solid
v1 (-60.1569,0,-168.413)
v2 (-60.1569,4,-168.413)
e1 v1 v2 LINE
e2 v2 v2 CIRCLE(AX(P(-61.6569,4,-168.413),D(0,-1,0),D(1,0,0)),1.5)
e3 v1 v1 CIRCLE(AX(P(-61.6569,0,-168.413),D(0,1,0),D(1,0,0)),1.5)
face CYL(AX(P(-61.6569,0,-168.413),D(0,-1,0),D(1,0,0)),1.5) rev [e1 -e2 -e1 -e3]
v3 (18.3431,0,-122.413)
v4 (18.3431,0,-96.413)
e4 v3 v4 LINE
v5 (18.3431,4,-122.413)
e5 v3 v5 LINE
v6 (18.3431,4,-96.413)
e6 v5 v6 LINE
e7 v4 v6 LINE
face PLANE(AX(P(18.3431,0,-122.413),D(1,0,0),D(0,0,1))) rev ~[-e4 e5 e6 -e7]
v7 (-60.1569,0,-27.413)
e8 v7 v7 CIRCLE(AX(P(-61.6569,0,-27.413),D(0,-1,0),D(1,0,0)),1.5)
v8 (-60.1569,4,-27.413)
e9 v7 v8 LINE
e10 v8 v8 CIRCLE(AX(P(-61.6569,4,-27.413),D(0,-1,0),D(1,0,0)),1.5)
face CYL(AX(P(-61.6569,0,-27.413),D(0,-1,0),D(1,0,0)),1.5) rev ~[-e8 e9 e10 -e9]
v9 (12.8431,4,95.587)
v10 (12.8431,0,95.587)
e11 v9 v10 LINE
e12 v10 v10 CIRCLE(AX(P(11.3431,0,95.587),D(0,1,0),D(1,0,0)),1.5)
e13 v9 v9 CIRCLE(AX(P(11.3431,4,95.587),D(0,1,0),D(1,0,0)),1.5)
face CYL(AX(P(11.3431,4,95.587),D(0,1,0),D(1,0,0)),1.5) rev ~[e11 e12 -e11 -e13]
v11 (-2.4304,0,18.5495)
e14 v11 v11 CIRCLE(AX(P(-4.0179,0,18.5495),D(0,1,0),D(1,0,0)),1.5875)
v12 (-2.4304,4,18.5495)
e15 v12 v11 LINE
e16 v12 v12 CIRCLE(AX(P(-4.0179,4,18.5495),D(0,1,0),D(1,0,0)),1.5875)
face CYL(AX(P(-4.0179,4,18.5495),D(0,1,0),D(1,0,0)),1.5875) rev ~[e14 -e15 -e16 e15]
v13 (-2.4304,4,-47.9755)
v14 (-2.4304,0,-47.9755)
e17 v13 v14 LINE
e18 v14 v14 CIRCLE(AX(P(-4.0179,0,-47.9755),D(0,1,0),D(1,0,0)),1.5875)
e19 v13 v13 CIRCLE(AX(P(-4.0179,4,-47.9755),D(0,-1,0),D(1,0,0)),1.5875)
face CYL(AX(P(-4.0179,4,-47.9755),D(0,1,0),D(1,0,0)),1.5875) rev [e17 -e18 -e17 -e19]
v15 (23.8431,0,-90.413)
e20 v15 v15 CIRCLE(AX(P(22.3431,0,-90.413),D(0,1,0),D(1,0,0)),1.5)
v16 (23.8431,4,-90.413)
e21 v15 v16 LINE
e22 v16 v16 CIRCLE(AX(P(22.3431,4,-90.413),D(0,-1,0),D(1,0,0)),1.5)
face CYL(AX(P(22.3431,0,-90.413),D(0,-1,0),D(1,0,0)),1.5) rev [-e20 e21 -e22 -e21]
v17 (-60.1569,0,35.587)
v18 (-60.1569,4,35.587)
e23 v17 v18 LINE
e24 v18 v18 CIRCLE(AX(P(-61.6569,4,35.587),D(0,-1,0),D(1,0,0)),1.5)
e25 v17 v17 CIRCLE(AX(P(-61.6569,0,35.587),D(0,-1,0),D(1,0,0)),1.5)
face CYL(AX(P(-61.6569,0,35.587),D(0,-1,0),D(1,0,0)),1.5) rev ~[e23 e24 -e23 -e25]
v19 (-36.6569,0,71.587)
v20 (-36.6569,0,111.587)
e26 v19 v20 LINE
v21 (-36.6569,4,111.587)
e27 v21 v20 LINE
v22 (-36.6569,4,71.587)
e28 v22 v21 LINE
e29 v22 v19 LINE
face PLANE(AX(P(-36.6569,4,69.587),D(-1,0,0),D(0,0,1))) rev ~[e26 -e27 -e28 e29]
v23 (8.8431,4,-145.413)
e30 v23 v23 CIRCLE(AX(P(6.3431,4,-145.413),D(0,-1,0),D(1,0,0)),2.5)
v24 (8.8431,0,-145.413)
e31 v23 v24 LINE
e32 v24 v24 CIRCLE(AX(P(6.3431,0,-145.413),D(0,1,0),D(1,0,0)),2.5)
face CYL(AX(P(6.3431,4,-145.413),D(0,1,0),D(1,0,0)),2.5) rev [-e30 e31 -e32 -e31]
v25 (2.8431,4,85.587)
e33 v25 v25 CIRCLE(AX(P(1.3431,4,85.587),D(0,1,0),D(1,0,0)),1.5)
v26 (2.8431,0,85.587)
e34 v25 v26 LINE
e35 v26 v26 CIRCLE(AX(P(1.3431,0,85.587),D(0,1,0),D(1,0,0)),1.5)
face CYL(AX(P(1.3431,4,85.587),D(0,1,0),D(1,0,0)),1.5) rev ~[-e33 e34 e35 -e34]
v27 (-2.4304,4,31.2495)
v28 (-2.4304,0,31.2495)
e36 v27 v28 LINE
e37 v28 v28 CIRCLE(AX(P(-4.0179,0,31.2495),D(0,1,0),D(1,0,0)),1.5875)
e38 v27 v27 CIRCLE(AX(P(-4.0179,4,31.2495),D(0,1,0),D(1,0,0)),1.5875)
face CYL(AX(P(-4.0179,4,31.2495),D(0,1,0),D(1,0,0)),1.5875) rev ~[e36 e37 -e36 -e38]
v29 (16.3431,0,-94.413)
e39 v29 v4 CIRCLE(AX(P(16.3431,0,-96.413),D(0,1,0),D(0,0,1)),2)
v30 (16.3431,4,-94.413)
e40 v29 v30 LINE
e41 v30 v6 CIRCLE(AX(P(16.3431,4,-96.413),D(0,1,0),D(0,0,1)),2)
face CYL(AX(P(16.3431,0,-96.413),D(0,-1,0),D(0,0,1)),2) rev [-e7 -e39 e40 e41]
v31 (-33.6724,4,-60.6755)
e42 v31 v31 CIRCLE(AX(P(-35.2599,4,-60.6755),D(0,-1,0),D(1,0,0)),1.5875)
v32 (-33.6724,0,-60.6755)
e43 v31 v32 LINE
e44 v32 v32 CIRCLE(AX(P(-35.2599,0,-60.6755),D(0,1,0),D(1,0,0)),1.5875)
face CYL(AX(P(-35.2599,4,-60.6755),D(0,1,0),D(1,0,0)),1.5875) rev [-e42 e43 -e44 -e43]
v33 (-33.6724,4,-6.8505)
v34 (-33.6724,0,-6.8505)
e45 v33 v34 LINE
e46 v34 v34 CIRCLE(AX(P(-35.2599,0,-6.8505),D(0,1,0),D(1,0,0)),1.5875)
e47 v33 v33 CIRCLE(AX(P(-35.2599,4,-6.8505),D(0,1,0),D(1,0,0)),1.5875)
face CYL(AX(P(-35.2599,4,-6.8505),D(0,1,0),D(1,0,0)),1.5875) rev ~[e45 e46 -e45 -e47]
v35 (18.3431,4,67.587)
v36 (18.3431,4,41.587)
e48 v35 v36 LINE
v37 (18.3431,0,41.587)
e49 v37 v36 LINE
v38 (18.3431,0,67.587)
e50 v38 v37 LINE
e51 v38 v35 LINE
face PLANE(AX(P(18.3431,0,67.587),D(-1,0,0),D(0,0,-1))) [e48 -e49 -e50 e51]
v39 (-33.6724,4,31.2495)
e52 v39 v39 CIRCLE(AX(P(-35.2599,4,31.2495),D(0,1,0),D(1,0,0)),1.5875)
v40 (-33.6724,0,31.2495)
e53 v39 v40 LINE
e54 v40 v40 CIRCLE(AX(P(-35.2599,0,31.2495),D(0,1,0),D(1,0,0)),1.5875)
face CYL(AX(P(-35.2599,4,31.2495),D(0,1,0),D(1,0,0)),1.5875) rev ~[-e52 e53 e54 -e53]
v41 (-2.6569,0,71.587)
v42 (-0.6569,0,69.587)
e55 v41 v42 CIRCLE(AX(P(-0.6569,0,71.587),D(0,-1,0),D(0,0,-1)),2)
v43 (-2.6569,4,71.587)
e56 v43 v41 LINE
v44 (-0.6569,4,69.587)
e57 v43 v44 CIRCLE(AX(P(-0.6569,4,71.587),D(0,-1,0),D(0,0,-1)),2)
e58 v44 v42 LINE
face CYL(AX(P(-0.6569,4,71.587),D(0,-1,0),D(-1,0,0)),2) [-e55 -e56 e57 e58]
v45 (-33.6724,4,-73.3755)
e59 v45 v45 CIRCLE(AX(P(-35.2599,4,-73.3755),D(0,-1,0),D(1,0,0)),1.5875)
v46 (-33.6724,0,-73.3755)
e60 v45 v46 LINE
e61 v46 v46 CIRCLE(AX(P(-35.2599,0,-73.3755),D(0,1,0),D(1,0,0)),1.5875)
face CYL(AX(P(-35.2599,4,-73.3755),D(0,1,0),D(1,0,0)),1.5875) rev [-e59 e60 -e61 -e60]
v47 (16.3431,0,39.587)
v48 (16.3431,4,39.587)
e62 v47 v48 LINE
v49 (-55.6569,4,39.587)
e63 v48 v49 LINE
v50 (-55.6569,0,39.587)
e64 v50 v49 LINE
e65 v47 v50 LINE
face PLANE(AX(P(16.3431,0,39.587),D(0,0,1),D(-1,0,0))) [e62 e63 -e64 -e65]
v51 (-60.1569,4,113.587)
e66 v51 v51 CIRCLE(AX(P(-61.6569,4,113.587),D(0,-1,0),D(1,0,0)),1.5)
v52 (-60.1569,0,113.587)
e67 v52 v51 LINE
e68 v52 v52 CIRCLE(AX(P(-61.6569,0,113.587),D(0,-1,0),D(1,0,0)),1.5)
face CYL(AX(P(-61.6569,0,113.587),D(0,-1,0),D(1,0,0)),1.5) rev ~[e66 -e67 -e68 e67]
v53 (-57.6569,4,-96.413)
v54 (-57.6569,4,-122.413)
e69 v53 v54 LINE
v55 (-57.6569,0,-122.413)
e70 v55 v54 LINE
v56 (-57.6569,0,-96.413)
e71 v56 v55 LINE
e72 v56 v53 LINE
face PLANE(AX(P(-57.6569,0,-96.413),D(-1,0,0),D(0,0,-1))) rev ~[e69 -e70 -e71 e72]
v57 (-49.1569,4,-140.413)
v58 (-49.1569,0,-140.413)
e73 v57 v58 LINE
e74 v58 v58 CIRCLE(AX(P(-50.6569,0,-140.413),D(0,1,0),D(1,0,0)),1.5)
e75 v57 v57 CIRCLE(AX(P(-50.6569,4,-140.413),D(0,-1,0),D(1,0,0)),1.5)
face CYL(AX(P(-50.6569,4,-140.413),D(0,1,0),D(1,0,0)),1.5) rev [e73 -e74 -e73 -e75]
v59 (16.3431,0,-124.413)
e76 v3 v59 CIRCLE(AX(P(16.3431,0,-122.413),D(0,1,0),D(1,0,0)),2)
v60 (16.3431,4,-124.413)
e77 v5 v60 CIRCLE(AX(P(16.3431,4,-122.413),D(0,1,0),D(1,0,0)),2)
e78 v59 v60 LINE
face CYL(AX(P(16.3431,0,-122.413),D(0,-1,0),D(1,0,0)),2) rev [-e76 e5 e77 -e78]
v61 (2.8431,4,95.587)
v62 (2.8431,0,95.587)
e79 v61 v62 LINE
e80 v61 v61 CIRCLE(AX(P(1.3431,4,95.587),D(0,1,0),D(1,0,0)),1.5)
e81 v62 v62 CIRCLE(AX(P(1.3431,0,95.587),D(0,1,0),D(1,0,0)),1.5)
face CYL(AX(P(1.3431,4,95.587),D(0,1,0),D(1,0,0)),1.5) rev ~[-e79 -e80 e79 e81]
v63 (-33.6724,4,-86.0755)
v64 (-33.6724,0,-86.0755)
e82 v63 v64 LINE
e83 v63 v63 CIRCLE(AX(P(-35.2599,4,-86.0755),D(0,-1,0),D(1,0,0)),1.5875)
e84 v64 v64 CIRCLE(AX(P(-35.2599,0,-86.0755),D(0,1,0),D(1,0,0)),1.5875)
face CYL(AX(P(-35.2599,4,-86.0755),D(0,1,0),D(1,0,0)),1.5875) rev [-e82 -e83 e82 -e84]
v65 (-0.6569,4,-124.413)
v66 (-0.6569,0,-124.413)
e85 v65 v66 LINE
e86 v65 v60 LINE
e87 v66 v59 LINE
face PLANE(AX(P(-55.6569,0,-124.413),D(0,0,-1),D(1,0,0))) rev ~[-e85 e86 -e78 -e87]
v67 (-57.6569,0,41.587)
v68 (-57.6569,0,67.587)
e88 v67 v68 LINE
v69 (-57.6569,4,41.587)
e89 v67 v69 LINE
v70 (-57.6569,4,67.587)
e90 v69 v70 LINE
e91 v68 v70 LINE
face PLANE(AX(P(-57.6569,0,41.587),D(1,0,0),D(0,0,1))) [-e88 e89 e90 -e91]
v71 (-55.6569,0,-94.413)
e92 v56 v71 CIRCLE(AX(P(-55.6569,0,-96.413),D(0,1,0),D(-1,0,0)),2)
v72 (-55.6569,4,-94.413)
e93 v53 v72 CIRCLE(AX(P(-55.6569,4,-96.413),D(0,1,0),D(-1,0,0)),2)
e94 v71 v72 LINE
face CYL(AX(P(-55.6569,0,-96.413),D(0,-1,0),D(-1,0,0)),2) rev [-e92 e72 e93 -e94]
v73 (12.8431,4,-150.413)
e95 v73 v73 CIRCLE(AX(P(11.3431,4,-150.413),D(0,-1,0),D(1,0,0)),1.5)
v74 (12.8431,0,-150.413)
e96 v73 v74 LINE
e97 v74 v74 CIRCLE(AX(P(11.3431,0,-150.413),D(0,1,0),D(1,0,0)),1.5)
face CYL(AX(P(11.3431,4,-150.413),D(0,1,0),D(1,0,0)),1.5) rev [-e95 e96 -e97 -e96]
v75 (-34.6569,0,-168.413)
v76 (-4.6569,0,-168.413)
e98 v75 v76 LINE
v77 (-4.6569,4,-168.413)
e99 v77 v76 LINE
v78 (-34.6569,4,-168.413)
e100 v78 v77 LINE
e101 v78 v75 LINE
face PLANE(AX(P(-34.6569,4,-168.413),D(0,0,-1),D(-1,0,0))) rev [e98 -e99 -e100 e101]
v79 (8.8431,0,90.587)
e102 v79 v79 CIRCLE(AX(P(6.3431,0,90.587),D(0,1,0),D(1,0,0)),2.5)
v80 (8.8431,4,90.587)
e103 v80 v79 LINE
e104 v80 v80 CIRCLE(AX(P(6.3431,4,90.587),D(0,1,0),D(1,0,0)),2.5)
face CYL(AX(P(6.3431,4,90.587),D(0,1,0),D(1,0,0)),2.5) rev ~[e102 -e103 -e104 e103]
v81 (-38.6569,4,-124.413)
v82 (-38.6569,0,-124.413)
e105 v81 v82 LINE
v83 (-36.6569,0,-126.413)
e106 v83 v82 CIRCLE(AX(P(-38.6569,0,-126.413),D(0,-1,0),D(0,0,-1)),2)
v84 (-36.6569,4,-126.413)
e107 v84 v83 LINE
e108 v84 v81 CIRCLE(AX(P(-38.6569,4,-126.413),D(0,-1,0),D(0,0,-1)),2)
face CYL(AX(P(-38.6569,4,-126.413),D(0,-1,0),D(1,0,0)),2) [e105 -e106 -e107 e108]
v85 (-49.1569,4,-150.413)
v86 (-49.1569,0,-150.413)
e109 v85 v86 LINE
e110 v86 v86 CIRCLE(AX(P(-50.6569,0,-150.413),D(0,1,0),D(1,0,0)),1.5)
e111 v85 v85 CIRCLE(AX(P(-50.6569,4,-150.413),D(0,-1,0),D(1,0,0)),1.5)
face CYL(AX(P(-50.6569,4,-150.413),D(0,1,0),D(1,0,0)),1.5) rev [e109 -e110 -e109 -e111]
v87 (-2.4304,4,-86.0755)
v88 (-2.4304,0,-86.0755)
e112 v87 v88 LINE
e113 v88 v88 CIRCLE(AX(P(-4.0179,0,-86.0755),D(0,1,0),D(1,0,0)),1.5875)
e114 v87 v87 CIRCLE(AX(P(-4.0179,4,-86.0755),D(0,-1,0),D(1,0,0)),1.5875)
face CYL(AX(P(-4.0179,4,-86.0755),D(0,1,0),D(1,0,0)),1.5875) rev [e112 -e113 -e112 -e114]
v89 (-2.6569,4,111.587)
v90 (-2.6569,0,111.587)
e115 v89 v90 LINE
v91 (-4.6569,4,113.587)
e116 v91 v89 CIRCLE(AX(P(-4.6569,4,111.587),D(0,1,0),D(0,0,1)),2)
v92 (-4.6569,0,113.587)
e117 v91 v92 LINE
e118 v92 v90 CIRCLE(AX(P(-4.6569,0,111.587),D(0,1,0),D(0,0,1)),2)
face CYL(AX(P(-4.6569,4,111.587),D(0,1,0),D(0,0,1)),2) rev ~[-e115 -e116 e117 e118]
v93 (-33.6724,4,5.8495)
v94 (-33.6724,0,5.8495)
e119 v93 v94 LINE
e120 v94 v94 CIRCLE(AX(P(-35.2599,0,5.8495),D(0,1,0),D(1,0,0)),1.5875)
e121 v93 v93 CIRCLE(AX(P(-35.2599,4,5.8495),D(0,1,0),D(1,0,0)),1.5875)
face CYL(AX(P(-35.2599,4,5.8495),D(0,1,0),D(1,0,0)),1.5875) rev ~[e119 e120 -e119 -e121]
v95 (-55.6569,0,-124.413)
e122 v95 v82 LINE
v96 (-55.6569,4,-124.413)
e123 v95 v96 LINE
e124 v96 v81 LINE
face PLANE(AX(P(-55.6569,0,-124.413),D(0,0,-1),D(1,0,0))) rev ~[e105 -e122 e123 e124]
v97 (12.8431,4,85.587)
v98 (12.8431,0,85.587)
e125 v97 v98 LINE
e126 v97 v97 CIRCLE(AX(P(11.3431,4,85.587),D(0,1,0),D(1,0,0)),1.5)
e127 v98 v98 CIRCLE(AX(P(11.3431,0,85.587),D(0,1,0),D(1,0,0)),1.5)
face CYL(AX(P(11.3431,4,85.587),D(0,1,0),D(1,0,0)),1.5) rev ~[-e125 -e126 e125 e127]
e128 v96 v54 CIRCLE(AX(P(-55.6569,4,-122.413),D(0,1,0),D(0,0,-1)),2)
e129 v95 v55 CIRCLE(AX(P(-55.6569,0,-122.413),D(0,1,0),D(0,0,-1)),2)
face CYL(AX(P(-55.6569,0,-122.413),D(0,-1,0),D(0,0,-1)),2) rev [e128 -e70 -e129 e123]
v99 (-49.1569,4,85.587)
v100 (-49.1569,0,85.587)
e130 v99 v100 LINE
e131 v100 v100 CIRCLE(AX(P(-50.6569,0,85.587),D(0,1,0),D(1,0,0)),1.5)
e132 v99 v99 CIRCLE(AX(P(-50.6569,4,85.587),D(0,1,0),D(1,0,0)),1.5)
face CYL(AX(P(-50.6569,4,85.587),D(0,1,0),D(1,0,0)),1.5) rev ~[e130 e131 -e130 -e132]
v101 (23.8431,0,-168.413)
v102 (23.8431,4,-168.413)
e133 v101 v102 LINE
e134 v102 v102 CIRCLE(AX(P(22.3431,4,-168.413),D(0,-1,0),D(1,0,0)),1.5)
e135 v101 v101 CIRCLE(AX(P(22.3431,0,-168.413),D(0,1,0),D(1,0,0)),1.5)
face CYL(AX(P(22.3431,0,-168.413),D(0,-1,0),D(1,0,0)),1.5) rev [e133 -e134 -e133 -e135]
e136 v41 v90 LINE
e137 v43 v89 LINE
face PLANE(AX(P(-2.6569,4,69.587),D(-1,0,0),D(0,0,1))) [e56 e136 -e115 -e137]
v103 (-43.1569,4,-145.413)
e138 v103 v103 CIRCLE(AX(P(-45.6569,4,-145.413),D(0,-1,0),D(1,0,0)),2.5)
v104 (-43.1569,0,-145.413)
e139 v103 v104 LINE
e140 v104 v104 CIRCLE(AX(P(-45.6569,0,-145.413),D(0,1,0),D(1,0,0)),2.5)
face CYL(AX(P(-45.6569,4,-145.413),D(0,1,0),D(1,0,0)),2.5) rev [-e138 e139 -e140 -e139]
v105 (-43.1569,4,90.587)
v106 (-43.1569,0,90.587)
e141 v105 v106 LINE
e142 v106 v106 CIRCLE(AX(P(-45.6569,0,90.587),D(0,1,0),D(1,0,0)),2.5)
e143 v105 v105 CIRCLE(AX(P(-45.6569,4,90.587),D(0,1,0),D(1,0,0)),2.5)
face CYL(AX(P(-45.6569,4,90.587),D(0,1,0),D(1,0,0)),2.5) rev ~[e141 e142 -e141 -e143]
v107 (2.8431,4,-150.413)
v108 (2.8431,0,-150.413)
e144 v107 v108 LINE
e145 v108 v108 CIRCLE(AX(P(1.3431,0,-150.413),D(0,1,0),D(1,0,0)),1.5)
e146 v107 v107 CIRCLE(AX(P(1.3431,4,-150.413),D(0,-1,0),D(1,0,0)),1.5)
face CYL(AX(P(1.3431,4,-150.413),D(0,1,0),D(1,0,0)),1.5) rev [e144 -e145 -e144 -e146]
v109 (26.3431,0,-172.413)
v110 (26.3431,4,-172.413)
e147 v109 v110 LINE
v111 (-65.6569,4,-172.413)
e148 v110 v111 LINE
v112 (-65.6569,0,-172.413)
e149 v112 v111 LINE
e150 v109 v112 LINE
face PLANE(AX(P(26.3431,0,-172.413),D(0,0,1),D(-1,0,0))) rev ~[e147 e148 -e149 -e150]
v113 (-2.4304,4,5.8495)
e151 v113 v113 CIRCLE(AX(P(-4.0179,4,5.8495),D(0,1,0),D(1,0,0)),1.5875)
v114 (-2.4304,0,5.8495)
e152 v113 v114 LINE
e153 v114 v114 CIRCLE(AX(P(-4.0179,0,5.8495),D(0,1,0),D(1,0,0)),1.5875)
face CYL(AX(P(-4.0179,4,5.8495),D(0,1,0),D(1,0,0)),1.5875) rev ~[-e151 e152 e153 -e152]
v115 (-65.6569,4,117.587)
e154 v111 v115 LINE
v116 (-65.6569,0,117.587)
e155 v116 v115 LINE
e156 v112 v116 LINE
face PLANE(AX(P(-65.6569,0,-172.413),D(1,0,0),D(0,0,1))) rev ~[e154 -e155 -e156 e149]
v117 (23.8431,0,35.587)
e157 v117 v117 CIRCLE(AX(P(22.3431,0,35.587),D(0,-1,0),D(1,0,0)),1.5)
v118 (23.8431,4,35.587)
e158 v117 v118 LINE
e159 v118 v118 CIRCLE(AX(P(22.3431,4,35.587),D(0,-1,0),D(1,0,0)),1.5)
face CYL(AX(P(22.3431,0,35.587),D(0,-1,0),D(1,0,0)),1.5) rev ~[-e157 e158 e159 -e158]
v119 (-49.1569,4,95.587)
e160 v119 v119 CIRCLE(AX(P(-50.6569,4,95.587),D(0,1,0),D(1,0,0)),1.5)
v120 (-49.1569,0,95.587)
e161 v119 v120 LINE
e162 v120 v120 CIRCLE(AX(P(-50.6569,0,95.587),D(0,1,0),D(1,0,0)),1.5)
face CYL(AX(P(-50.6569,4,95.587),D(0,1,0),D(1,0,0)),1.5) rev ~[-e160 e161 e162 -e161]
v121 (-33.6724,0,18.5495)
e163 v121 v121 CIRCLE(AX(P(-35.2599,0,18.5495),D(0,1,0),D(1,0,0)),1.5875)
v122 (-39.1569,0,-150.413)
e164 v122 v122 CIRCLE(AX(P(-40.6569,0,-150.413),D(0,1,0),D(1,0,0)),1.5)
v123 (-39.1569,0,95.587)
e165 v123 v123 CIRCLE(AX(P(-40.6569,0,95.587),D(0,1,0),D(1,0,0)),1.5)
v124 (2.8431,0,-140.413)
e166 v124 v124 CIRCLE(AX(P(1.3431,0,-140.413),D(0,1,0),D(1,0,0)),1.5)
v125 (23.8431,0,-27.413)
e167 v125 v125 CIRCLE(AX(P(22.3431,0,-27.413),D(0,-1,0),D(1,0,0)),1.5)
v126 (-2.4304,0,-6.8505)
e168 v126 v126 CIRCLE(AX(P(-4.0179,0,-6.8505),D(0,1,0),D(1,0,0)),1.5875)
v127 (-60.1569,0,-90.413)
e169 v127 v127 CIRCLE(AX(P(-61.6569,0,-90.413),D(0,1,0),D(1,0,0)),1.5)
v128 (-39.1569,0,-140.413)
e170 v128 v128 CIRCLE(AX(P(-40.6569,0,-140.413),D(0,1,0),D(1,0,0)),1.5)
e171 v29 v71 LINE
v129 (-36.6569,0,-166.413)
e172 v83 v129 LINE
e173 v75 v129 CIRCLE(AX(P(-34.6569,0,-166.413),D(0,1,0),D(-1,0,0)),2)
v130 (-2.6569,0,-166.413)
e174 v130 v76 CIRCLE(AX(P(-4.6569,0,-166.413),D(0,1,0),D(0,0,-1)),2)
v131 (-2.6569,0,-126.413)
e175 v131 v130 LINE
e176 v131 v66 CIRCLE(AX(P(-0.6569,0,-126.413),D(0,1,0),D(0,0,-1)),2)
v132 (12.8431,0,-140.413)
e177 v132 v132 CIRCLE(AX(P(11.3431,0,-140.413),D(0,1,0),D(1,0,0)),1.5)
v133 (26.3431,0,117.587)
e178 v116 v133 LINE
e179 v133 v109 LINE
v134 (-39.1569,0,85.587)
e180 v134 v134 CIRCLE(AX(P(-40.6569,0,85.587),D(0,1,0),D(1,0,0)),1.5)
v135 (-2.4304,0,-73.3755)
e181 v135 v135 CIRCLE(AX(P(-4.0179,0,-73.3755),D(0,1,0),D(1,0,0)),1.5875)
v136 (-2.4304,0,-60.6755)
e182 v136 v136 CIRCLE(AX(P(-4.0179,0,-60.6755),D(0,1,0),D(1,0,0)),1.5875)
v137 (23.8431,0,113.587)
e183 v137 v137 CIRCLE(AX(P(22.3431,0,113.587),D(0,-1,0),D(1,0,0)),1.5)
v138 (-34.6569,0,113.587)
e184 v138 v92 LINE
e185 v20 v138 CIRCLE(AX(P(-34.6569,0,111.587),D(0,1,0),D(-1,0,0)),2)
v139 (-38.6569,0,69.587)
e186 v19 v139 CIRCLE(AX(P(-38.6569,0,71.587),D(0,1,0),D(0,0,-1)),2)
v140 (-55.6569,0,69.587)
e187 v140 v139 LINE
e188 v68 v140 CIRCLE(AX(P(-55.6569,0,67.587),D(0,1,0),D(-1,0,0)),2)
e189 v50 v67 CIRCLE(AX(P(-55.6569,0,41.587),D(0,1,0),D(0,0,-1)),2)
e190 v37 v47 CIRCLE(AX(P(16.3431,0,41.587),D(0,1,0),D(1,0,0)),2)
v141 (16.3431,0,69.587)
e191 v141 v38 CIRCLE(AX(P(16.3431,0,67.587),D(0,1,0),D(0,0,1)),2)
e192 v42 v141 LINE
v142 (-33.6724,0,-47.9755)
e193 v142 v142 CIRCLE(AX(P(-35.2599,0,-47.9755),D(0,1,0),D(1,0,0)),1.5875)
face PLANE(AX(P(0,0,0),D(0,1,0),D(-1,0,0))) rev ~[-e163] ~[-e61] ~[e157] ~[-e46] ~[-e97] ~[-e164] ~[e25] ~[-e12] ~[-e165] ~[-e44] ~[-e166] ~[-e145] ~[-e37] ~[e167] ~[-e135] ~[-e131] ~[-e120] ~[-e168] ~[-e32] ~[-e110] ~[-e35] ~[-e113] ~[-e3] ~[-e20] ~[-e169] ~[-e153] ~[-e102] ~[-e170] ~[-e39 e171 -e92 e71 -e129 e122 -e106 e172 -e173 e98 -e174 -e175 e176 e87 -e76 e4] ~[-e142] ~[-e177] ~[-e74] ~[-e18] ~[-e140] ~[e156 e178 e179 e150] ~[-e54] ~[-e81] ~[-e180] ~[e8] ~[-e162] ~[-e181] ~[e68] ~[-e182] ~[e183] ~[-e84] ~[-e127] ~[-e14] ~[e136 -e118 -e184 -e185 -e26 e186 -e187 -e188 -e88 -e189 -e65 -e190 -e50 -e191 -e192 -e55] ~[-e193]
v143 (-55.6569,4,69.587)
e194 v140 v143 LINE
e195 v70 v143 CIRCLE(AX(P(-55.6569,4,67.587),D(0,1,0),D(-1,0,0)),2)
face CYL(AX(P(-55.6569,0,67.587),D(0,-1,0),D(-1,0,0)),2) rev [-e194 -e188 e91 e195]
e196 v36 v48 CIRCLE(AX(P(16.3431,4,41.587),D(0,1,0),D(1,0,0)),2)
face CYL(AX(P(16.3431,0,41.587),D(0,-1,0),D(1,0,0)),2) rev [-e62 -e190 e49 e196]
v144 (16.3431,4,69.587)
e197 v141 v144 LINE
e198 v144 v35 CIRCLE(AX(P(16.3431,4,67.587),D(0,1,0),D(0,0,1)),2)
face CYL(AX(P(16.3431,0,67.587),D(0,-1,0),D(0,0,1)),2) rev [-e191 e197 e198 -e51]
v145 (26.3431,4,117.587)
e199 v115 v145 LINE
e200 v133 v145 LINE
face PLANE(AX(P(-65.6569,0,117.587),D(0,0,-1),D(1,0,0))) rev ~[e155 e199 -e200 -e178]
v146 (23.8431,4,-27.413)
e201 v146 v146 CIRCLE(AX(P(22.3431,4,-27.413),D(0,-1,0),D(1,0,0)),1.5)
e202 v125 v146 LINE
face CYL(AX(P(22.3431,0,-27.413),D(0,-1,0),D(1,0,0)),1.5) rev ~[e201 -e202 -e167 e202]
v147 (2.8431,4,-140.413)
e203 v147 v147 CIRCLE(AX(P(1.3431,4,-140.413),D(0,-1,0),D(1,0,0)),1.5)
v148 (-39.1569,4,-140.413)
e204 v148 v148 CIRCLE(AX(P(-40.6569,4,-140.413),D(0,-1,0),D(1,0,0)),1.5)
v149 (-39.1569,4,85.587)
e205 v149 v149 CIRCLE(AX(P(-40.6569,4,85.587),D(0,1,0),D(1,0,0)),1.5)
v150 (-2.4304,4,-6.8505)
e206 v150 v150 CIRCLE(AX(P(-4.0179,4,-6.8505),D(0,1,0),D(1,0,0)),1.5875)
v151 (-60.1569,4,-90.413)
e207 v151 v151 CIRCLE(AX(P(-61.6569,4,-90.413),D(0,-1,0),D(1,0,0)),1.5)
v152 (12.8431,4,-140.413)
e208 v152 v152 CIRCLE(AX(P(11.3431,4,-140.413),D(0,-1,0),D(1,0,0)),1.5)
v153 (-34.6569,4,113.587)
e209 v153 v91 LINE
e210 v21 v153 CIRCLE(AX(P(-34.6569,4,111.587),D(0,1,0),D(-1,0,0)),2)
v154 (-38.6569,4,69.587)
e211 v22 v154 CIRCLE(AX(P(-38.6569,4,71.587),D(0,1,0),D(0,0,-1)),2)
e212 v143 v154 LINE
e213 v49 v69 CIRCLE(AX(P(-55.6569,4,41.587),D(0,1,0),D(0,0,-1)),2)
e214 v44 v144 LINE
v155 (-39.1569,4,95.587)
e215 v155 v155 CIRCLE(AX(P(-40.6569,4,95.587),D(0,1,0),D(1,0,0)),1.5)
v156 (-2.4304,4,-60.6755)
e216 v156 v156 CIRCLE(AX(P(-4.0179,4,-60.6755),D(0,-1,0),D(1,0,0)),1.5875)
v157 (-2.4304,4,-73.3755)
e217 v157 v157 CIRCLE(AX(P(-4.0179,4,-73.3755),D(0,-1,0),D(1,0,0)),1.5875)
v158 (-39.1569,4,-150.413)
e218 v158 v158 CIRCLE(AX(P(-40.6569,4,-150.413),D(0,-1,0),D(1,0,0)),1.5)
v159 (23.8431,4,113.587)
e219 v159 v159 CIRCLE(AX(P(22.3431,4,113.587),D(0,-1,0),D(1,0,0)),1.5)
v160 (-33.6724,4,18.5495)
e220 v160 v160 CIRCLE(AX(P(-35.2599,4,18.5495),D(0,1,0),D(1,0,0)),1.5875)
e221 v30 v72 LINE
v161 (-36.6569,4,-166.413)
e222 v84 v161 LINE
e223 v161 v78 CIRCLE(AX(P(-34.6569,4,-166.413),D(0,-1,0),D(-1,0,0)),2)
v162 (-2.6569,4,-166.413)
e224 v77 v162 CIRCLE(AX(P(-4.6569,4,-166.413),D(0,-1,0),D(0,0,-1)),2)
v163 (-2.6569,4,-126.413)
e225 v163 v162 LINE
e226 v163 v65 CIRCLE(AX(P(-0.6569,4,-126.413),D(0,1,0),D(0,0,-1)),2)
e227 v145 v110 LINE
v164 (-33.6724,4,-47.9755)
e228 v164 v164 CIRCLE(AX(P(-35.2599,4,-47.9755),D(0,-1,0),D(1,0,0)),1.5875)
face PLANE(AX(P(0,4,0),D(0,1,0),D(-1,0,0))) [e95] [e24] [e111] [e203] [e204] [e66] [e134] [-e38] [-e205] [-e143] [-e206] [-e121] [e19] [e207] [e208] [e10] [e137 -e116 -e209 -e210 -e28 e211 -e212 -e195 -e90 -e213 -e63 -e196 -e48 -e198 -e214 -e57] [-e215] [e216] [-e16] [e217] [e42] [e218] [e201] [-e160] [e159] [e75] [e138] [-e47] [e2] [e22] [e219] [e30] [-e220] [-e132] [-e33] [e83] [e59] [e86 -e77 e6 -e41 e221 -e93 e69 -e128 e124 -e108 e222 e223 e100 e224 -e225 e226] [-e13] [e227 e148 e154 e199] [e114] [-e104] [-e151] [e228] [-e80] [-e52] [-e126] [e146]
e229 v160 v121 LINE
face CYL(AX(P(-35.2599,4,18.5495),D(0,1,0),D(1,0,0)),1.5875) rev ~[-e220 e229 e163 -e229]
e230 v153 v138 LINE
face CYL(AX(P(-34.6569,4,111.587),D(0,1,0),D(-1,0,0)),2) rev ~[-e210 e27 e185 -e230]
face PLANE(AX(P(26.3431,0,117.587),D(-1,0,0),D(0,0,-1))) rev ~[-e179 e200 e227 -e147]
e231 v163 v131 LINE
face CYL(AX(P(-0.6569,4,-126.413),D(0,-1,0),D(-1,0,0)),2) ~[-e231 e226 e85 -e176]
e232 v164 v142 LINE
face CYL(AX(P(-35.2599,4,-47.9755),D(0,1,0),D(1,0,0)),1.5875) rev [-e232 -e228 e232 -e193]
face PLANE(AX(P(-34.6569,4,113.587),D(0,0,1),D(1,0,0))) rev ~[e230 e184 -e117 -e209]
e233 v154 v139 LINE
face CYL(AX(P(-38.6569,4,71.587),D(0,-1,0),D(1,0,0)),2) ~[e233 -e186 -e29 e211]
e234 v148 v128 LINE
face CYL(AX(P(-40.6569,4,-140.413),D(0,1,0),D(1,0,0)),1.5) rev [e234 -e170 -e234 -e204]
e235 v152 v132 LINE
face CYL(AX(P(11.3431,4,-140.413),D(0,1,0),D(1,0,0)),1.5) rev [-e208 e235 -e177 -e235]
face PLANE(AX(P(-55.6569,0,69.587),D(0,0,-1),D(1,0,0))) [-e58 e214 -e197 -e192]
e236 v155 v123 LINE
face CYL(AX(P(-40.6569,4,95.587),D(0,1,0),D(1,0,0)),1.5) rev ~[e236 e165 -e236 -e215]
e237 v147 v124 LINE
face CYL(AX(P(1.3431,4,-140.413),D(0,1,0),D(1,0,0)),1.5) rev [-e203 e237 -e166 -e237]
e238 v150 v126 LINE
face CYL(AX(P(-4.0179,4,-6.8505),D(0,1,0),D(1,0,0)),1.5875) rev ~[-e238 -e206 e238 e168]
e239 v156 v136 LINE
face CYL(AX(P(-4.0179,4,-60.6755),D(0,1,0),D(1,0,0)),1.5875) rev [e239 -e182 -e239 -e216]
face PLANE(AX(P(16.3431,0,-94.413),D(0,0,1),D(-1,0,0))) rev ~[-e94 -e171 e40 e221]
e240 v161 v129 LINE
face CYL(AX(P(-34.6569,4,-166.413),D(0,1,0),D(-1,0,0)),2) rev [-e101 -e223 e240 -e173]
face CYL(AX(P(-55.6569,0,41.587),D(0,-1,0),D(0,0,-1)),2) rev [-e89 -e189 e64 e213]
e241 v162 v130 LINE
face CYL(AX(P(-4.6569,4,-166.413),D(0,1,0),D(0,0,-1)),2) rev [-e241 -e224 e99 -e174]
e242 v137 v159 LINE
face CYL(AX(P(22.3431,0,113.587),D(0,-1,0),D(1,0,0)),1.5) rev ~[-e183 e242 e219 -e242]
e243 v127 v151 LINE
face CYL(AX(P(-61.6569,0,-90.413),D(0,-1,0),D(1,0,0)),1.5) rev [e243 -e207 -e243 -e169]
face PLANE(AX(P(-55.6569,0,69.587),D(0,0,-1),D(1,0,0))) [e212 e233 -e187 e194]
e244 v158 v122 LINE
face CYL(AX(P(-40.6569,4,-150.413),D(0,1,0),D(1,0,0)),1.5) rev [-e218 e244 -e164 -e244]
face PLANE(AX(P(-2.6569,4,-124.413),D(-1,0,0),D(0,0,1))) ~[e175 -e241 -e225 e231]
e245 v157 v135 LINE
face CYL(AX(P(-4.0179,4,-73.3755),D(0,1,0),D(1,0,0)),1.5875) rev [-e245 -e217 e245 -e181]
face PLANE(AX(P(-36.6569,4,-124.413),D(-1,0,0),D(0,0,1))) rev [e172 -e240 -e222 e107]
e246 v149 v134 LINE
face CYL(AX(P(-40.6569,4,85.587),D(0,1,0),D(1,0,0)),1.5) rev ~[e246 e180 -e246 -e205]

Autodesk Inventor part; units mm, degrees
ref_plane "YZ Plane" through (0, 0, 0) normal (1, 0, 0) x (0, 1, 0)
ref_plane "XZ Plane" through (0, 0, 0) normal (0, 1, 0) x (-1, 0, 0)
sketch "Esquisse1" plane through (0, 0, 0) normal (0, 1, 0) x (-1, 0, 0)
  line L0 (65.6569, 117.587) -> (-26.3431, 117.587)
  line L1 (-26.3431, 117.587) -> (-26.3431, -172.413)
  line L2 (-26.3431, -172.413) -> (65.6569, -172.413)
  line L3 (65.6569, -172.413) -> (65.6569, 117.587)
  line L4 (55.6569, 69.587) -> (-16.3431, 69.587)
  line L5 (-18.3431, 67.587) -> (-18.3431, 41.587)
  line L6 (-16.3431, 39.587) -> (55.6569, 39.587)
  line L7 (57.6569, 41.587) -> (57.6569, 67.587)
  arc A0 (-18.3431, 41.587) -> (-16.3431, 39.587) centre (-16.3431, 41.587) ccw
  arc A1 (55.6569, 39.587) -> (57.6569, 41.587) centre (55.6569, 41.587) ccw
  arc A2 (57.6569, 67.587) -> (55.6569, 69.587) centre (55.6569, 67.587) ccw
  arc A3 (-16.3431, 69.587) -> (-18.3431, 67.587) centre (-16.3431, 67.587) ccw
  line L8 (65.6569, -27.413) -> (-26.3431, -27.413) construction
  line L9 (55.6569, -124.413) -> (-16.3431, -124.413)
  line L10 (-18.3431, -122.413) -> (-18.3431, -96.413)
  line L11 (-16.3431, -94.413) -> (55.6569, -94.413)
  line L12 (57.6569, -96.413) -> (57.6569, -122.413)
  arc A4 (-16.3431, -94.413) -> (-18.3431, -96.413) centre (-16.3431, -96.413) ccw
  arc A5 (57.6569, -96.413) -> (55.6569, -94.413) centre (55.6569, -96.413) ccw
  arc A6 (55.6569, -124.413) -> (57.6569, -122.413) centre (55.6569, -122.413) ccw
  arc A7 (-18.3431, -122.413) -> (-16.3431, -124.413) centre (-16.3431, -122.413) ccw
  point P0 (0, 0)
  dimension "d0" = 290
  dimension "d1" = 92
  dimension "d7" = 30
  dimension "d8" = 8
  dimension "d9" = 8
  dimension "d10" = 2
  dimension "d15" = 48
  dimension "d23" = 145
extrude "Extrusion1" add sketch "Esquisse1" along normal blind 4
sketch "Esquisse3" plane through (0, 4, 0) normal (0, 1, 0) x (1, 0, 0)
  circle A0 centre (-35.2599, -31.2495) radius 1.5875 projected
  circle A1 centre (-35.2599, -18.5495) radius 1.5875 projected
  circle A2 centre (-35.2599, -5.8495) radius 1.5875 projected
  arc A3 (-57.6569, 96.413) -> (-55.6569, 94.413) centre (-55.6569, 96.413) ccw projected
  line L0 (-57.6569, 96.413) -> (-57.6569, 122.413) projected
  arc A4 (-55.6569, 124.413) -> (-57.6569, 122.413) centre (-55.6569, 122.413) ccw projected
  line L1 (-55.6569, 124.413) -> (16.3431, 124.413) projected
  arc A5 (18.3431, 122.413) -> (16.3431, 124.413) centre (16.3431, 122.413) ccw projected
  line L2 (18.3431, 122.413) -> (18.3431, 96.413) projected
  arc A6 (16.3431, 94.413) -> (18.3431, 96.413) centre (16.3431, 96.413) ccw projected
  line L3 (16.3431, 94.413) -> (-55.6569, 94.413) projected
  arc A7 (16.3431, -69.587) -> (18.3431, -67.587) centre (16.3431, -67.587) ccw projected
  line L4 (16.3431, -69.587) -> (-55.6569, -69.587) projected
  arc A8 (-57.6569, -67.587) -> (-55.6569, -69.587) centre (-55.6569, -67.587) ccw projected
  line L5 (-57.6569, -67.587) -> (-57.6569, -41.587) projected
  arc A9 (-55.6569, -39.587) -> (-57.6569, -41.587) centre (-55.6569, -41.587) ccw projected
  line L6 (-55.6569, -39.587) -> (16.3431, -39.587) projected
  arc A10 (18.3431, -41.587) -> (16.3431, -39.587) centre (16.3431, -41.587) ccw projected
  line L7 (18.3431, -41.587) -> (18.3431, -67.587) projected
  line L8 (-65.6569, -117.587) -> (26.3431, -117.587) projected
  line L9 (26.3431, -117.587) -> (26.3431, 172.413) projected
  line L10 (26.3431, 172.413) -> (-65.6569, 172.413) projected
  line L11 (-65.6569, 172.413) -> (-65.6569, -117.587) projected
  circle A11 centre (-35.2599, 6.8505) radius 1.5875 projected
  circle A12 centre (-4.0179, -31.2495) radius 1.5875 projected
  circle A13 centre (-4.0179, -18.5495) radius 1.5875 projected
  circle A14 centre (-4.0179, -5.8495) radius 1.5875 projected
  circle A15 centre (-4.0179, 6.8505) radius 1.5875 projected
extrude "Extrusion3" cut sketch "Esquisse3" against normal through all contours A0 | A1 | A2 | A11 | A12 | A13 | A14 | A15
ref_plane "Plan médian largeur" through (-65.6569, 0, -27.413) normal (0, 0, 1) x (1, 0, 0)
sketch "Esquisse4" plane through (0, 4, 0) normal (0, 1, 0) x (1, 0, 0)
  line L0 (-2.6569, -69.587) -> (-2.6569, -111.587)
  line L1 (16.3431, -69.587) -> (-55.6569, -69.587) projected
  line L2 (-36.6569, -69.587) -> (-36.6569, -111.587)
  line L3 (-65.6569, 172.413) -> (-65.6569, -117.587) projected
  line L4 (-34.6569, -113.587) -> (-4.6569, -113.587)
  arc A0 (-36.6569, -111.587) -> (-34.6569, -113.587) centre (-34.6569, -111.587) ccw
  arc A1 (-4.6569, -113.587) -> (-2.6569, -111.587) centre (-4.6569, -111.587) ccw
  point P0 (0, 0)
  point P1 (-36.6569, -113.587)
  dimension "d52" = 2
  dimension "d53" = 29
  dimension "d67" = 34
extrude "Extrusion4" cut sketch "Esquisse4" against normal through all
sketch "Esquisse6" plane through (0, 0, 0) normal (0, -1, 0) x (1, 0, 0)
  circle A0 centre (-61.6569, 113.587) radius 1.5
  circle A1 centre (22.3431, 113.587) radius 1.5
  circle A2 centre (22.3431, 35.587) radius 1.5
  circle A3 centre (-61.6569, 35.587) radius 1.5
  circle A4 centre (-61.6569, -27.413) radius 1.5
  circle A5 centre (22.3431, -27.413) radius 1.5
  line L0 (-65.6569, -172.413) -> (-65.6569, 117.587) projected
  line L1 (-65.6569, 117.587) -> (26.3431, 117.587) projected
  line L2 (26.3431, 117.587) -> (26.3431, -172.413) projected
  line L3 (16.3431, 39.587) -> (-55.6569, 39.587) projected
  point P0 (0, 0)
  dimension "d32" = 3
  dimension "d33" = 3
  dimension "d34" = 3
  dimension "d35" = 3
  dimension "d36" = 3
  dimension "d37" = 3
  dimension "d38" = 4
  dimension "d39" = 4
  dimension "d40" = 4
  dimension "d41" = 4
  dimension "d42" = 4
  dimension "d43" = 4
  dimension "d44" = 4
  dimension "d45" = 4
  dimension "d46" = 4
  dimension "d47" = 145
  dimension "d48" = 145
  dimension "d49" = 4
extrude "Extrusion5" cut sketch "Esquisse6" against normal through all
sketch "Esquisse7" plane through (0, 4, 0) normal (0, 1, 0) x (1, 0, 0)
  circle A0 centre (11.3431, -95.587) radius 1.9
  circle A1 centre (11.3431, -85.587) radius 1.9
  circle A2 centre (6.3431, -90.587) radius 4.25
  circle A3 centre (-40.6569, -95.587) radius 1.9
  circle A4 centre (1.3431, -95.587) radius 1.9
  circle A5 centre (1.3431, -85.587) radius 1.9
  circle A6 centre (11.3431, -95.587) radius 1.5
  circle A7 centre (1.3431, -95.587) radius 1.5
  circle A8 centre (6.3431, -90.587) radius 2.5
  circle A9 centre (1.3431, -85.587) radius 1.5
  circle A10 centre (11.3431, -85.587) radius 1.5
  circle A11 centre (-50.6569, -95.587) radius 1.5
  circle A12 centre (-50.6569, -85.587) radius 1.5
  circle A13 centre (-40.6569, -85.587) radius 1.5
  circle A14 centre (-45.6569, -90.587) radius 2.75
  circle A15 centre (-40.6569, -95.587) radius 1.5
  circle A16 centre (-50.6569, -95.587) radius 1.5
  circle A17 centre (-50.6569, -85.587) radius 1.5
  circle A18 centre (-40.6569, -85.587) radius 1.5
  circle A19 centre (-45.6569, -90.587) radius 2.5
  line L0 (-2.6569, -69.587) -> (-2.6569, -111.587) projected
  line L1 (-65.6569, -117.587) -> (26.3431, -117.587) projected
  line L2 (-36.6569, -111.587) -> (-36.6569, -69.587) projected
  point P0 (0, 0)
  dimension "d55" = 3
  dimension "d56" = 3
  dimension "d57" = 5
  dimension "d58" = 3
  dimension "d59" = 3
  dimension "d60" = 3
  dimension "d61" = 3
  dimension "d62" = 3
  dimension "d63" = 3
  dimension "d64" = 5
  dimension "d72" = 8.5
  dimension "d73" = 3.8
  dimension "d74" = 3.8
  dimension "d75" = 3.8
  dimension "d76" = 3.8
  dimension "d77" = 10
  dimension "d78" = 10
  dimension "d79" = 10
  dimension "d80" = 10
  dimension "d81" = 5
  dimension "d82" = 5
  dimension "d83" = 9
  dimension "d84" = 27
  dimension "d85" = 5
  dimension "d86" = 5
  dimension "d87" = 3.8
  dimension "d88" = 5.5
  dimension "d89" = 5
  dimension "d90" = 10
  dimension "d91" = 5
  dimension "d92" = 5
  dimension "d93" = 10
  dimension "d94" = 9
  dimension "d95" = 5
  dimension "d96" = 10
  dimension "d97" = 10
  dimension "d98" = 27
extrude "Extrusion6" cut sketch "Esquisse7" against normal through all contours A6 | A7 | A8 | A9 | A10 | A11 | A12 | A13 | A15 | A19
mirror "Symétrie1" about plane through (-65.6569, 0, -27.413) normal (0, 0, 1) of "Extrusion3", "Extrusion4", "Extrusion5", "Extrusion6"
fillet "Congé1" radius 2 1 edges at (-2.6569, 2, 69.587)
fillet "Congé2" radius 2 1 edges at (-36.6569, 2, 69.587)
fillet "Congé3" radius 2 1 edges at (-2.6569, 2, -124.413)
fillet "Congé4" radius 2 1 edges at (-36.6569, 2, -124.413)
equation "\"d23\" = 0.5 * d0"
properties part number "socle_ammovible"
